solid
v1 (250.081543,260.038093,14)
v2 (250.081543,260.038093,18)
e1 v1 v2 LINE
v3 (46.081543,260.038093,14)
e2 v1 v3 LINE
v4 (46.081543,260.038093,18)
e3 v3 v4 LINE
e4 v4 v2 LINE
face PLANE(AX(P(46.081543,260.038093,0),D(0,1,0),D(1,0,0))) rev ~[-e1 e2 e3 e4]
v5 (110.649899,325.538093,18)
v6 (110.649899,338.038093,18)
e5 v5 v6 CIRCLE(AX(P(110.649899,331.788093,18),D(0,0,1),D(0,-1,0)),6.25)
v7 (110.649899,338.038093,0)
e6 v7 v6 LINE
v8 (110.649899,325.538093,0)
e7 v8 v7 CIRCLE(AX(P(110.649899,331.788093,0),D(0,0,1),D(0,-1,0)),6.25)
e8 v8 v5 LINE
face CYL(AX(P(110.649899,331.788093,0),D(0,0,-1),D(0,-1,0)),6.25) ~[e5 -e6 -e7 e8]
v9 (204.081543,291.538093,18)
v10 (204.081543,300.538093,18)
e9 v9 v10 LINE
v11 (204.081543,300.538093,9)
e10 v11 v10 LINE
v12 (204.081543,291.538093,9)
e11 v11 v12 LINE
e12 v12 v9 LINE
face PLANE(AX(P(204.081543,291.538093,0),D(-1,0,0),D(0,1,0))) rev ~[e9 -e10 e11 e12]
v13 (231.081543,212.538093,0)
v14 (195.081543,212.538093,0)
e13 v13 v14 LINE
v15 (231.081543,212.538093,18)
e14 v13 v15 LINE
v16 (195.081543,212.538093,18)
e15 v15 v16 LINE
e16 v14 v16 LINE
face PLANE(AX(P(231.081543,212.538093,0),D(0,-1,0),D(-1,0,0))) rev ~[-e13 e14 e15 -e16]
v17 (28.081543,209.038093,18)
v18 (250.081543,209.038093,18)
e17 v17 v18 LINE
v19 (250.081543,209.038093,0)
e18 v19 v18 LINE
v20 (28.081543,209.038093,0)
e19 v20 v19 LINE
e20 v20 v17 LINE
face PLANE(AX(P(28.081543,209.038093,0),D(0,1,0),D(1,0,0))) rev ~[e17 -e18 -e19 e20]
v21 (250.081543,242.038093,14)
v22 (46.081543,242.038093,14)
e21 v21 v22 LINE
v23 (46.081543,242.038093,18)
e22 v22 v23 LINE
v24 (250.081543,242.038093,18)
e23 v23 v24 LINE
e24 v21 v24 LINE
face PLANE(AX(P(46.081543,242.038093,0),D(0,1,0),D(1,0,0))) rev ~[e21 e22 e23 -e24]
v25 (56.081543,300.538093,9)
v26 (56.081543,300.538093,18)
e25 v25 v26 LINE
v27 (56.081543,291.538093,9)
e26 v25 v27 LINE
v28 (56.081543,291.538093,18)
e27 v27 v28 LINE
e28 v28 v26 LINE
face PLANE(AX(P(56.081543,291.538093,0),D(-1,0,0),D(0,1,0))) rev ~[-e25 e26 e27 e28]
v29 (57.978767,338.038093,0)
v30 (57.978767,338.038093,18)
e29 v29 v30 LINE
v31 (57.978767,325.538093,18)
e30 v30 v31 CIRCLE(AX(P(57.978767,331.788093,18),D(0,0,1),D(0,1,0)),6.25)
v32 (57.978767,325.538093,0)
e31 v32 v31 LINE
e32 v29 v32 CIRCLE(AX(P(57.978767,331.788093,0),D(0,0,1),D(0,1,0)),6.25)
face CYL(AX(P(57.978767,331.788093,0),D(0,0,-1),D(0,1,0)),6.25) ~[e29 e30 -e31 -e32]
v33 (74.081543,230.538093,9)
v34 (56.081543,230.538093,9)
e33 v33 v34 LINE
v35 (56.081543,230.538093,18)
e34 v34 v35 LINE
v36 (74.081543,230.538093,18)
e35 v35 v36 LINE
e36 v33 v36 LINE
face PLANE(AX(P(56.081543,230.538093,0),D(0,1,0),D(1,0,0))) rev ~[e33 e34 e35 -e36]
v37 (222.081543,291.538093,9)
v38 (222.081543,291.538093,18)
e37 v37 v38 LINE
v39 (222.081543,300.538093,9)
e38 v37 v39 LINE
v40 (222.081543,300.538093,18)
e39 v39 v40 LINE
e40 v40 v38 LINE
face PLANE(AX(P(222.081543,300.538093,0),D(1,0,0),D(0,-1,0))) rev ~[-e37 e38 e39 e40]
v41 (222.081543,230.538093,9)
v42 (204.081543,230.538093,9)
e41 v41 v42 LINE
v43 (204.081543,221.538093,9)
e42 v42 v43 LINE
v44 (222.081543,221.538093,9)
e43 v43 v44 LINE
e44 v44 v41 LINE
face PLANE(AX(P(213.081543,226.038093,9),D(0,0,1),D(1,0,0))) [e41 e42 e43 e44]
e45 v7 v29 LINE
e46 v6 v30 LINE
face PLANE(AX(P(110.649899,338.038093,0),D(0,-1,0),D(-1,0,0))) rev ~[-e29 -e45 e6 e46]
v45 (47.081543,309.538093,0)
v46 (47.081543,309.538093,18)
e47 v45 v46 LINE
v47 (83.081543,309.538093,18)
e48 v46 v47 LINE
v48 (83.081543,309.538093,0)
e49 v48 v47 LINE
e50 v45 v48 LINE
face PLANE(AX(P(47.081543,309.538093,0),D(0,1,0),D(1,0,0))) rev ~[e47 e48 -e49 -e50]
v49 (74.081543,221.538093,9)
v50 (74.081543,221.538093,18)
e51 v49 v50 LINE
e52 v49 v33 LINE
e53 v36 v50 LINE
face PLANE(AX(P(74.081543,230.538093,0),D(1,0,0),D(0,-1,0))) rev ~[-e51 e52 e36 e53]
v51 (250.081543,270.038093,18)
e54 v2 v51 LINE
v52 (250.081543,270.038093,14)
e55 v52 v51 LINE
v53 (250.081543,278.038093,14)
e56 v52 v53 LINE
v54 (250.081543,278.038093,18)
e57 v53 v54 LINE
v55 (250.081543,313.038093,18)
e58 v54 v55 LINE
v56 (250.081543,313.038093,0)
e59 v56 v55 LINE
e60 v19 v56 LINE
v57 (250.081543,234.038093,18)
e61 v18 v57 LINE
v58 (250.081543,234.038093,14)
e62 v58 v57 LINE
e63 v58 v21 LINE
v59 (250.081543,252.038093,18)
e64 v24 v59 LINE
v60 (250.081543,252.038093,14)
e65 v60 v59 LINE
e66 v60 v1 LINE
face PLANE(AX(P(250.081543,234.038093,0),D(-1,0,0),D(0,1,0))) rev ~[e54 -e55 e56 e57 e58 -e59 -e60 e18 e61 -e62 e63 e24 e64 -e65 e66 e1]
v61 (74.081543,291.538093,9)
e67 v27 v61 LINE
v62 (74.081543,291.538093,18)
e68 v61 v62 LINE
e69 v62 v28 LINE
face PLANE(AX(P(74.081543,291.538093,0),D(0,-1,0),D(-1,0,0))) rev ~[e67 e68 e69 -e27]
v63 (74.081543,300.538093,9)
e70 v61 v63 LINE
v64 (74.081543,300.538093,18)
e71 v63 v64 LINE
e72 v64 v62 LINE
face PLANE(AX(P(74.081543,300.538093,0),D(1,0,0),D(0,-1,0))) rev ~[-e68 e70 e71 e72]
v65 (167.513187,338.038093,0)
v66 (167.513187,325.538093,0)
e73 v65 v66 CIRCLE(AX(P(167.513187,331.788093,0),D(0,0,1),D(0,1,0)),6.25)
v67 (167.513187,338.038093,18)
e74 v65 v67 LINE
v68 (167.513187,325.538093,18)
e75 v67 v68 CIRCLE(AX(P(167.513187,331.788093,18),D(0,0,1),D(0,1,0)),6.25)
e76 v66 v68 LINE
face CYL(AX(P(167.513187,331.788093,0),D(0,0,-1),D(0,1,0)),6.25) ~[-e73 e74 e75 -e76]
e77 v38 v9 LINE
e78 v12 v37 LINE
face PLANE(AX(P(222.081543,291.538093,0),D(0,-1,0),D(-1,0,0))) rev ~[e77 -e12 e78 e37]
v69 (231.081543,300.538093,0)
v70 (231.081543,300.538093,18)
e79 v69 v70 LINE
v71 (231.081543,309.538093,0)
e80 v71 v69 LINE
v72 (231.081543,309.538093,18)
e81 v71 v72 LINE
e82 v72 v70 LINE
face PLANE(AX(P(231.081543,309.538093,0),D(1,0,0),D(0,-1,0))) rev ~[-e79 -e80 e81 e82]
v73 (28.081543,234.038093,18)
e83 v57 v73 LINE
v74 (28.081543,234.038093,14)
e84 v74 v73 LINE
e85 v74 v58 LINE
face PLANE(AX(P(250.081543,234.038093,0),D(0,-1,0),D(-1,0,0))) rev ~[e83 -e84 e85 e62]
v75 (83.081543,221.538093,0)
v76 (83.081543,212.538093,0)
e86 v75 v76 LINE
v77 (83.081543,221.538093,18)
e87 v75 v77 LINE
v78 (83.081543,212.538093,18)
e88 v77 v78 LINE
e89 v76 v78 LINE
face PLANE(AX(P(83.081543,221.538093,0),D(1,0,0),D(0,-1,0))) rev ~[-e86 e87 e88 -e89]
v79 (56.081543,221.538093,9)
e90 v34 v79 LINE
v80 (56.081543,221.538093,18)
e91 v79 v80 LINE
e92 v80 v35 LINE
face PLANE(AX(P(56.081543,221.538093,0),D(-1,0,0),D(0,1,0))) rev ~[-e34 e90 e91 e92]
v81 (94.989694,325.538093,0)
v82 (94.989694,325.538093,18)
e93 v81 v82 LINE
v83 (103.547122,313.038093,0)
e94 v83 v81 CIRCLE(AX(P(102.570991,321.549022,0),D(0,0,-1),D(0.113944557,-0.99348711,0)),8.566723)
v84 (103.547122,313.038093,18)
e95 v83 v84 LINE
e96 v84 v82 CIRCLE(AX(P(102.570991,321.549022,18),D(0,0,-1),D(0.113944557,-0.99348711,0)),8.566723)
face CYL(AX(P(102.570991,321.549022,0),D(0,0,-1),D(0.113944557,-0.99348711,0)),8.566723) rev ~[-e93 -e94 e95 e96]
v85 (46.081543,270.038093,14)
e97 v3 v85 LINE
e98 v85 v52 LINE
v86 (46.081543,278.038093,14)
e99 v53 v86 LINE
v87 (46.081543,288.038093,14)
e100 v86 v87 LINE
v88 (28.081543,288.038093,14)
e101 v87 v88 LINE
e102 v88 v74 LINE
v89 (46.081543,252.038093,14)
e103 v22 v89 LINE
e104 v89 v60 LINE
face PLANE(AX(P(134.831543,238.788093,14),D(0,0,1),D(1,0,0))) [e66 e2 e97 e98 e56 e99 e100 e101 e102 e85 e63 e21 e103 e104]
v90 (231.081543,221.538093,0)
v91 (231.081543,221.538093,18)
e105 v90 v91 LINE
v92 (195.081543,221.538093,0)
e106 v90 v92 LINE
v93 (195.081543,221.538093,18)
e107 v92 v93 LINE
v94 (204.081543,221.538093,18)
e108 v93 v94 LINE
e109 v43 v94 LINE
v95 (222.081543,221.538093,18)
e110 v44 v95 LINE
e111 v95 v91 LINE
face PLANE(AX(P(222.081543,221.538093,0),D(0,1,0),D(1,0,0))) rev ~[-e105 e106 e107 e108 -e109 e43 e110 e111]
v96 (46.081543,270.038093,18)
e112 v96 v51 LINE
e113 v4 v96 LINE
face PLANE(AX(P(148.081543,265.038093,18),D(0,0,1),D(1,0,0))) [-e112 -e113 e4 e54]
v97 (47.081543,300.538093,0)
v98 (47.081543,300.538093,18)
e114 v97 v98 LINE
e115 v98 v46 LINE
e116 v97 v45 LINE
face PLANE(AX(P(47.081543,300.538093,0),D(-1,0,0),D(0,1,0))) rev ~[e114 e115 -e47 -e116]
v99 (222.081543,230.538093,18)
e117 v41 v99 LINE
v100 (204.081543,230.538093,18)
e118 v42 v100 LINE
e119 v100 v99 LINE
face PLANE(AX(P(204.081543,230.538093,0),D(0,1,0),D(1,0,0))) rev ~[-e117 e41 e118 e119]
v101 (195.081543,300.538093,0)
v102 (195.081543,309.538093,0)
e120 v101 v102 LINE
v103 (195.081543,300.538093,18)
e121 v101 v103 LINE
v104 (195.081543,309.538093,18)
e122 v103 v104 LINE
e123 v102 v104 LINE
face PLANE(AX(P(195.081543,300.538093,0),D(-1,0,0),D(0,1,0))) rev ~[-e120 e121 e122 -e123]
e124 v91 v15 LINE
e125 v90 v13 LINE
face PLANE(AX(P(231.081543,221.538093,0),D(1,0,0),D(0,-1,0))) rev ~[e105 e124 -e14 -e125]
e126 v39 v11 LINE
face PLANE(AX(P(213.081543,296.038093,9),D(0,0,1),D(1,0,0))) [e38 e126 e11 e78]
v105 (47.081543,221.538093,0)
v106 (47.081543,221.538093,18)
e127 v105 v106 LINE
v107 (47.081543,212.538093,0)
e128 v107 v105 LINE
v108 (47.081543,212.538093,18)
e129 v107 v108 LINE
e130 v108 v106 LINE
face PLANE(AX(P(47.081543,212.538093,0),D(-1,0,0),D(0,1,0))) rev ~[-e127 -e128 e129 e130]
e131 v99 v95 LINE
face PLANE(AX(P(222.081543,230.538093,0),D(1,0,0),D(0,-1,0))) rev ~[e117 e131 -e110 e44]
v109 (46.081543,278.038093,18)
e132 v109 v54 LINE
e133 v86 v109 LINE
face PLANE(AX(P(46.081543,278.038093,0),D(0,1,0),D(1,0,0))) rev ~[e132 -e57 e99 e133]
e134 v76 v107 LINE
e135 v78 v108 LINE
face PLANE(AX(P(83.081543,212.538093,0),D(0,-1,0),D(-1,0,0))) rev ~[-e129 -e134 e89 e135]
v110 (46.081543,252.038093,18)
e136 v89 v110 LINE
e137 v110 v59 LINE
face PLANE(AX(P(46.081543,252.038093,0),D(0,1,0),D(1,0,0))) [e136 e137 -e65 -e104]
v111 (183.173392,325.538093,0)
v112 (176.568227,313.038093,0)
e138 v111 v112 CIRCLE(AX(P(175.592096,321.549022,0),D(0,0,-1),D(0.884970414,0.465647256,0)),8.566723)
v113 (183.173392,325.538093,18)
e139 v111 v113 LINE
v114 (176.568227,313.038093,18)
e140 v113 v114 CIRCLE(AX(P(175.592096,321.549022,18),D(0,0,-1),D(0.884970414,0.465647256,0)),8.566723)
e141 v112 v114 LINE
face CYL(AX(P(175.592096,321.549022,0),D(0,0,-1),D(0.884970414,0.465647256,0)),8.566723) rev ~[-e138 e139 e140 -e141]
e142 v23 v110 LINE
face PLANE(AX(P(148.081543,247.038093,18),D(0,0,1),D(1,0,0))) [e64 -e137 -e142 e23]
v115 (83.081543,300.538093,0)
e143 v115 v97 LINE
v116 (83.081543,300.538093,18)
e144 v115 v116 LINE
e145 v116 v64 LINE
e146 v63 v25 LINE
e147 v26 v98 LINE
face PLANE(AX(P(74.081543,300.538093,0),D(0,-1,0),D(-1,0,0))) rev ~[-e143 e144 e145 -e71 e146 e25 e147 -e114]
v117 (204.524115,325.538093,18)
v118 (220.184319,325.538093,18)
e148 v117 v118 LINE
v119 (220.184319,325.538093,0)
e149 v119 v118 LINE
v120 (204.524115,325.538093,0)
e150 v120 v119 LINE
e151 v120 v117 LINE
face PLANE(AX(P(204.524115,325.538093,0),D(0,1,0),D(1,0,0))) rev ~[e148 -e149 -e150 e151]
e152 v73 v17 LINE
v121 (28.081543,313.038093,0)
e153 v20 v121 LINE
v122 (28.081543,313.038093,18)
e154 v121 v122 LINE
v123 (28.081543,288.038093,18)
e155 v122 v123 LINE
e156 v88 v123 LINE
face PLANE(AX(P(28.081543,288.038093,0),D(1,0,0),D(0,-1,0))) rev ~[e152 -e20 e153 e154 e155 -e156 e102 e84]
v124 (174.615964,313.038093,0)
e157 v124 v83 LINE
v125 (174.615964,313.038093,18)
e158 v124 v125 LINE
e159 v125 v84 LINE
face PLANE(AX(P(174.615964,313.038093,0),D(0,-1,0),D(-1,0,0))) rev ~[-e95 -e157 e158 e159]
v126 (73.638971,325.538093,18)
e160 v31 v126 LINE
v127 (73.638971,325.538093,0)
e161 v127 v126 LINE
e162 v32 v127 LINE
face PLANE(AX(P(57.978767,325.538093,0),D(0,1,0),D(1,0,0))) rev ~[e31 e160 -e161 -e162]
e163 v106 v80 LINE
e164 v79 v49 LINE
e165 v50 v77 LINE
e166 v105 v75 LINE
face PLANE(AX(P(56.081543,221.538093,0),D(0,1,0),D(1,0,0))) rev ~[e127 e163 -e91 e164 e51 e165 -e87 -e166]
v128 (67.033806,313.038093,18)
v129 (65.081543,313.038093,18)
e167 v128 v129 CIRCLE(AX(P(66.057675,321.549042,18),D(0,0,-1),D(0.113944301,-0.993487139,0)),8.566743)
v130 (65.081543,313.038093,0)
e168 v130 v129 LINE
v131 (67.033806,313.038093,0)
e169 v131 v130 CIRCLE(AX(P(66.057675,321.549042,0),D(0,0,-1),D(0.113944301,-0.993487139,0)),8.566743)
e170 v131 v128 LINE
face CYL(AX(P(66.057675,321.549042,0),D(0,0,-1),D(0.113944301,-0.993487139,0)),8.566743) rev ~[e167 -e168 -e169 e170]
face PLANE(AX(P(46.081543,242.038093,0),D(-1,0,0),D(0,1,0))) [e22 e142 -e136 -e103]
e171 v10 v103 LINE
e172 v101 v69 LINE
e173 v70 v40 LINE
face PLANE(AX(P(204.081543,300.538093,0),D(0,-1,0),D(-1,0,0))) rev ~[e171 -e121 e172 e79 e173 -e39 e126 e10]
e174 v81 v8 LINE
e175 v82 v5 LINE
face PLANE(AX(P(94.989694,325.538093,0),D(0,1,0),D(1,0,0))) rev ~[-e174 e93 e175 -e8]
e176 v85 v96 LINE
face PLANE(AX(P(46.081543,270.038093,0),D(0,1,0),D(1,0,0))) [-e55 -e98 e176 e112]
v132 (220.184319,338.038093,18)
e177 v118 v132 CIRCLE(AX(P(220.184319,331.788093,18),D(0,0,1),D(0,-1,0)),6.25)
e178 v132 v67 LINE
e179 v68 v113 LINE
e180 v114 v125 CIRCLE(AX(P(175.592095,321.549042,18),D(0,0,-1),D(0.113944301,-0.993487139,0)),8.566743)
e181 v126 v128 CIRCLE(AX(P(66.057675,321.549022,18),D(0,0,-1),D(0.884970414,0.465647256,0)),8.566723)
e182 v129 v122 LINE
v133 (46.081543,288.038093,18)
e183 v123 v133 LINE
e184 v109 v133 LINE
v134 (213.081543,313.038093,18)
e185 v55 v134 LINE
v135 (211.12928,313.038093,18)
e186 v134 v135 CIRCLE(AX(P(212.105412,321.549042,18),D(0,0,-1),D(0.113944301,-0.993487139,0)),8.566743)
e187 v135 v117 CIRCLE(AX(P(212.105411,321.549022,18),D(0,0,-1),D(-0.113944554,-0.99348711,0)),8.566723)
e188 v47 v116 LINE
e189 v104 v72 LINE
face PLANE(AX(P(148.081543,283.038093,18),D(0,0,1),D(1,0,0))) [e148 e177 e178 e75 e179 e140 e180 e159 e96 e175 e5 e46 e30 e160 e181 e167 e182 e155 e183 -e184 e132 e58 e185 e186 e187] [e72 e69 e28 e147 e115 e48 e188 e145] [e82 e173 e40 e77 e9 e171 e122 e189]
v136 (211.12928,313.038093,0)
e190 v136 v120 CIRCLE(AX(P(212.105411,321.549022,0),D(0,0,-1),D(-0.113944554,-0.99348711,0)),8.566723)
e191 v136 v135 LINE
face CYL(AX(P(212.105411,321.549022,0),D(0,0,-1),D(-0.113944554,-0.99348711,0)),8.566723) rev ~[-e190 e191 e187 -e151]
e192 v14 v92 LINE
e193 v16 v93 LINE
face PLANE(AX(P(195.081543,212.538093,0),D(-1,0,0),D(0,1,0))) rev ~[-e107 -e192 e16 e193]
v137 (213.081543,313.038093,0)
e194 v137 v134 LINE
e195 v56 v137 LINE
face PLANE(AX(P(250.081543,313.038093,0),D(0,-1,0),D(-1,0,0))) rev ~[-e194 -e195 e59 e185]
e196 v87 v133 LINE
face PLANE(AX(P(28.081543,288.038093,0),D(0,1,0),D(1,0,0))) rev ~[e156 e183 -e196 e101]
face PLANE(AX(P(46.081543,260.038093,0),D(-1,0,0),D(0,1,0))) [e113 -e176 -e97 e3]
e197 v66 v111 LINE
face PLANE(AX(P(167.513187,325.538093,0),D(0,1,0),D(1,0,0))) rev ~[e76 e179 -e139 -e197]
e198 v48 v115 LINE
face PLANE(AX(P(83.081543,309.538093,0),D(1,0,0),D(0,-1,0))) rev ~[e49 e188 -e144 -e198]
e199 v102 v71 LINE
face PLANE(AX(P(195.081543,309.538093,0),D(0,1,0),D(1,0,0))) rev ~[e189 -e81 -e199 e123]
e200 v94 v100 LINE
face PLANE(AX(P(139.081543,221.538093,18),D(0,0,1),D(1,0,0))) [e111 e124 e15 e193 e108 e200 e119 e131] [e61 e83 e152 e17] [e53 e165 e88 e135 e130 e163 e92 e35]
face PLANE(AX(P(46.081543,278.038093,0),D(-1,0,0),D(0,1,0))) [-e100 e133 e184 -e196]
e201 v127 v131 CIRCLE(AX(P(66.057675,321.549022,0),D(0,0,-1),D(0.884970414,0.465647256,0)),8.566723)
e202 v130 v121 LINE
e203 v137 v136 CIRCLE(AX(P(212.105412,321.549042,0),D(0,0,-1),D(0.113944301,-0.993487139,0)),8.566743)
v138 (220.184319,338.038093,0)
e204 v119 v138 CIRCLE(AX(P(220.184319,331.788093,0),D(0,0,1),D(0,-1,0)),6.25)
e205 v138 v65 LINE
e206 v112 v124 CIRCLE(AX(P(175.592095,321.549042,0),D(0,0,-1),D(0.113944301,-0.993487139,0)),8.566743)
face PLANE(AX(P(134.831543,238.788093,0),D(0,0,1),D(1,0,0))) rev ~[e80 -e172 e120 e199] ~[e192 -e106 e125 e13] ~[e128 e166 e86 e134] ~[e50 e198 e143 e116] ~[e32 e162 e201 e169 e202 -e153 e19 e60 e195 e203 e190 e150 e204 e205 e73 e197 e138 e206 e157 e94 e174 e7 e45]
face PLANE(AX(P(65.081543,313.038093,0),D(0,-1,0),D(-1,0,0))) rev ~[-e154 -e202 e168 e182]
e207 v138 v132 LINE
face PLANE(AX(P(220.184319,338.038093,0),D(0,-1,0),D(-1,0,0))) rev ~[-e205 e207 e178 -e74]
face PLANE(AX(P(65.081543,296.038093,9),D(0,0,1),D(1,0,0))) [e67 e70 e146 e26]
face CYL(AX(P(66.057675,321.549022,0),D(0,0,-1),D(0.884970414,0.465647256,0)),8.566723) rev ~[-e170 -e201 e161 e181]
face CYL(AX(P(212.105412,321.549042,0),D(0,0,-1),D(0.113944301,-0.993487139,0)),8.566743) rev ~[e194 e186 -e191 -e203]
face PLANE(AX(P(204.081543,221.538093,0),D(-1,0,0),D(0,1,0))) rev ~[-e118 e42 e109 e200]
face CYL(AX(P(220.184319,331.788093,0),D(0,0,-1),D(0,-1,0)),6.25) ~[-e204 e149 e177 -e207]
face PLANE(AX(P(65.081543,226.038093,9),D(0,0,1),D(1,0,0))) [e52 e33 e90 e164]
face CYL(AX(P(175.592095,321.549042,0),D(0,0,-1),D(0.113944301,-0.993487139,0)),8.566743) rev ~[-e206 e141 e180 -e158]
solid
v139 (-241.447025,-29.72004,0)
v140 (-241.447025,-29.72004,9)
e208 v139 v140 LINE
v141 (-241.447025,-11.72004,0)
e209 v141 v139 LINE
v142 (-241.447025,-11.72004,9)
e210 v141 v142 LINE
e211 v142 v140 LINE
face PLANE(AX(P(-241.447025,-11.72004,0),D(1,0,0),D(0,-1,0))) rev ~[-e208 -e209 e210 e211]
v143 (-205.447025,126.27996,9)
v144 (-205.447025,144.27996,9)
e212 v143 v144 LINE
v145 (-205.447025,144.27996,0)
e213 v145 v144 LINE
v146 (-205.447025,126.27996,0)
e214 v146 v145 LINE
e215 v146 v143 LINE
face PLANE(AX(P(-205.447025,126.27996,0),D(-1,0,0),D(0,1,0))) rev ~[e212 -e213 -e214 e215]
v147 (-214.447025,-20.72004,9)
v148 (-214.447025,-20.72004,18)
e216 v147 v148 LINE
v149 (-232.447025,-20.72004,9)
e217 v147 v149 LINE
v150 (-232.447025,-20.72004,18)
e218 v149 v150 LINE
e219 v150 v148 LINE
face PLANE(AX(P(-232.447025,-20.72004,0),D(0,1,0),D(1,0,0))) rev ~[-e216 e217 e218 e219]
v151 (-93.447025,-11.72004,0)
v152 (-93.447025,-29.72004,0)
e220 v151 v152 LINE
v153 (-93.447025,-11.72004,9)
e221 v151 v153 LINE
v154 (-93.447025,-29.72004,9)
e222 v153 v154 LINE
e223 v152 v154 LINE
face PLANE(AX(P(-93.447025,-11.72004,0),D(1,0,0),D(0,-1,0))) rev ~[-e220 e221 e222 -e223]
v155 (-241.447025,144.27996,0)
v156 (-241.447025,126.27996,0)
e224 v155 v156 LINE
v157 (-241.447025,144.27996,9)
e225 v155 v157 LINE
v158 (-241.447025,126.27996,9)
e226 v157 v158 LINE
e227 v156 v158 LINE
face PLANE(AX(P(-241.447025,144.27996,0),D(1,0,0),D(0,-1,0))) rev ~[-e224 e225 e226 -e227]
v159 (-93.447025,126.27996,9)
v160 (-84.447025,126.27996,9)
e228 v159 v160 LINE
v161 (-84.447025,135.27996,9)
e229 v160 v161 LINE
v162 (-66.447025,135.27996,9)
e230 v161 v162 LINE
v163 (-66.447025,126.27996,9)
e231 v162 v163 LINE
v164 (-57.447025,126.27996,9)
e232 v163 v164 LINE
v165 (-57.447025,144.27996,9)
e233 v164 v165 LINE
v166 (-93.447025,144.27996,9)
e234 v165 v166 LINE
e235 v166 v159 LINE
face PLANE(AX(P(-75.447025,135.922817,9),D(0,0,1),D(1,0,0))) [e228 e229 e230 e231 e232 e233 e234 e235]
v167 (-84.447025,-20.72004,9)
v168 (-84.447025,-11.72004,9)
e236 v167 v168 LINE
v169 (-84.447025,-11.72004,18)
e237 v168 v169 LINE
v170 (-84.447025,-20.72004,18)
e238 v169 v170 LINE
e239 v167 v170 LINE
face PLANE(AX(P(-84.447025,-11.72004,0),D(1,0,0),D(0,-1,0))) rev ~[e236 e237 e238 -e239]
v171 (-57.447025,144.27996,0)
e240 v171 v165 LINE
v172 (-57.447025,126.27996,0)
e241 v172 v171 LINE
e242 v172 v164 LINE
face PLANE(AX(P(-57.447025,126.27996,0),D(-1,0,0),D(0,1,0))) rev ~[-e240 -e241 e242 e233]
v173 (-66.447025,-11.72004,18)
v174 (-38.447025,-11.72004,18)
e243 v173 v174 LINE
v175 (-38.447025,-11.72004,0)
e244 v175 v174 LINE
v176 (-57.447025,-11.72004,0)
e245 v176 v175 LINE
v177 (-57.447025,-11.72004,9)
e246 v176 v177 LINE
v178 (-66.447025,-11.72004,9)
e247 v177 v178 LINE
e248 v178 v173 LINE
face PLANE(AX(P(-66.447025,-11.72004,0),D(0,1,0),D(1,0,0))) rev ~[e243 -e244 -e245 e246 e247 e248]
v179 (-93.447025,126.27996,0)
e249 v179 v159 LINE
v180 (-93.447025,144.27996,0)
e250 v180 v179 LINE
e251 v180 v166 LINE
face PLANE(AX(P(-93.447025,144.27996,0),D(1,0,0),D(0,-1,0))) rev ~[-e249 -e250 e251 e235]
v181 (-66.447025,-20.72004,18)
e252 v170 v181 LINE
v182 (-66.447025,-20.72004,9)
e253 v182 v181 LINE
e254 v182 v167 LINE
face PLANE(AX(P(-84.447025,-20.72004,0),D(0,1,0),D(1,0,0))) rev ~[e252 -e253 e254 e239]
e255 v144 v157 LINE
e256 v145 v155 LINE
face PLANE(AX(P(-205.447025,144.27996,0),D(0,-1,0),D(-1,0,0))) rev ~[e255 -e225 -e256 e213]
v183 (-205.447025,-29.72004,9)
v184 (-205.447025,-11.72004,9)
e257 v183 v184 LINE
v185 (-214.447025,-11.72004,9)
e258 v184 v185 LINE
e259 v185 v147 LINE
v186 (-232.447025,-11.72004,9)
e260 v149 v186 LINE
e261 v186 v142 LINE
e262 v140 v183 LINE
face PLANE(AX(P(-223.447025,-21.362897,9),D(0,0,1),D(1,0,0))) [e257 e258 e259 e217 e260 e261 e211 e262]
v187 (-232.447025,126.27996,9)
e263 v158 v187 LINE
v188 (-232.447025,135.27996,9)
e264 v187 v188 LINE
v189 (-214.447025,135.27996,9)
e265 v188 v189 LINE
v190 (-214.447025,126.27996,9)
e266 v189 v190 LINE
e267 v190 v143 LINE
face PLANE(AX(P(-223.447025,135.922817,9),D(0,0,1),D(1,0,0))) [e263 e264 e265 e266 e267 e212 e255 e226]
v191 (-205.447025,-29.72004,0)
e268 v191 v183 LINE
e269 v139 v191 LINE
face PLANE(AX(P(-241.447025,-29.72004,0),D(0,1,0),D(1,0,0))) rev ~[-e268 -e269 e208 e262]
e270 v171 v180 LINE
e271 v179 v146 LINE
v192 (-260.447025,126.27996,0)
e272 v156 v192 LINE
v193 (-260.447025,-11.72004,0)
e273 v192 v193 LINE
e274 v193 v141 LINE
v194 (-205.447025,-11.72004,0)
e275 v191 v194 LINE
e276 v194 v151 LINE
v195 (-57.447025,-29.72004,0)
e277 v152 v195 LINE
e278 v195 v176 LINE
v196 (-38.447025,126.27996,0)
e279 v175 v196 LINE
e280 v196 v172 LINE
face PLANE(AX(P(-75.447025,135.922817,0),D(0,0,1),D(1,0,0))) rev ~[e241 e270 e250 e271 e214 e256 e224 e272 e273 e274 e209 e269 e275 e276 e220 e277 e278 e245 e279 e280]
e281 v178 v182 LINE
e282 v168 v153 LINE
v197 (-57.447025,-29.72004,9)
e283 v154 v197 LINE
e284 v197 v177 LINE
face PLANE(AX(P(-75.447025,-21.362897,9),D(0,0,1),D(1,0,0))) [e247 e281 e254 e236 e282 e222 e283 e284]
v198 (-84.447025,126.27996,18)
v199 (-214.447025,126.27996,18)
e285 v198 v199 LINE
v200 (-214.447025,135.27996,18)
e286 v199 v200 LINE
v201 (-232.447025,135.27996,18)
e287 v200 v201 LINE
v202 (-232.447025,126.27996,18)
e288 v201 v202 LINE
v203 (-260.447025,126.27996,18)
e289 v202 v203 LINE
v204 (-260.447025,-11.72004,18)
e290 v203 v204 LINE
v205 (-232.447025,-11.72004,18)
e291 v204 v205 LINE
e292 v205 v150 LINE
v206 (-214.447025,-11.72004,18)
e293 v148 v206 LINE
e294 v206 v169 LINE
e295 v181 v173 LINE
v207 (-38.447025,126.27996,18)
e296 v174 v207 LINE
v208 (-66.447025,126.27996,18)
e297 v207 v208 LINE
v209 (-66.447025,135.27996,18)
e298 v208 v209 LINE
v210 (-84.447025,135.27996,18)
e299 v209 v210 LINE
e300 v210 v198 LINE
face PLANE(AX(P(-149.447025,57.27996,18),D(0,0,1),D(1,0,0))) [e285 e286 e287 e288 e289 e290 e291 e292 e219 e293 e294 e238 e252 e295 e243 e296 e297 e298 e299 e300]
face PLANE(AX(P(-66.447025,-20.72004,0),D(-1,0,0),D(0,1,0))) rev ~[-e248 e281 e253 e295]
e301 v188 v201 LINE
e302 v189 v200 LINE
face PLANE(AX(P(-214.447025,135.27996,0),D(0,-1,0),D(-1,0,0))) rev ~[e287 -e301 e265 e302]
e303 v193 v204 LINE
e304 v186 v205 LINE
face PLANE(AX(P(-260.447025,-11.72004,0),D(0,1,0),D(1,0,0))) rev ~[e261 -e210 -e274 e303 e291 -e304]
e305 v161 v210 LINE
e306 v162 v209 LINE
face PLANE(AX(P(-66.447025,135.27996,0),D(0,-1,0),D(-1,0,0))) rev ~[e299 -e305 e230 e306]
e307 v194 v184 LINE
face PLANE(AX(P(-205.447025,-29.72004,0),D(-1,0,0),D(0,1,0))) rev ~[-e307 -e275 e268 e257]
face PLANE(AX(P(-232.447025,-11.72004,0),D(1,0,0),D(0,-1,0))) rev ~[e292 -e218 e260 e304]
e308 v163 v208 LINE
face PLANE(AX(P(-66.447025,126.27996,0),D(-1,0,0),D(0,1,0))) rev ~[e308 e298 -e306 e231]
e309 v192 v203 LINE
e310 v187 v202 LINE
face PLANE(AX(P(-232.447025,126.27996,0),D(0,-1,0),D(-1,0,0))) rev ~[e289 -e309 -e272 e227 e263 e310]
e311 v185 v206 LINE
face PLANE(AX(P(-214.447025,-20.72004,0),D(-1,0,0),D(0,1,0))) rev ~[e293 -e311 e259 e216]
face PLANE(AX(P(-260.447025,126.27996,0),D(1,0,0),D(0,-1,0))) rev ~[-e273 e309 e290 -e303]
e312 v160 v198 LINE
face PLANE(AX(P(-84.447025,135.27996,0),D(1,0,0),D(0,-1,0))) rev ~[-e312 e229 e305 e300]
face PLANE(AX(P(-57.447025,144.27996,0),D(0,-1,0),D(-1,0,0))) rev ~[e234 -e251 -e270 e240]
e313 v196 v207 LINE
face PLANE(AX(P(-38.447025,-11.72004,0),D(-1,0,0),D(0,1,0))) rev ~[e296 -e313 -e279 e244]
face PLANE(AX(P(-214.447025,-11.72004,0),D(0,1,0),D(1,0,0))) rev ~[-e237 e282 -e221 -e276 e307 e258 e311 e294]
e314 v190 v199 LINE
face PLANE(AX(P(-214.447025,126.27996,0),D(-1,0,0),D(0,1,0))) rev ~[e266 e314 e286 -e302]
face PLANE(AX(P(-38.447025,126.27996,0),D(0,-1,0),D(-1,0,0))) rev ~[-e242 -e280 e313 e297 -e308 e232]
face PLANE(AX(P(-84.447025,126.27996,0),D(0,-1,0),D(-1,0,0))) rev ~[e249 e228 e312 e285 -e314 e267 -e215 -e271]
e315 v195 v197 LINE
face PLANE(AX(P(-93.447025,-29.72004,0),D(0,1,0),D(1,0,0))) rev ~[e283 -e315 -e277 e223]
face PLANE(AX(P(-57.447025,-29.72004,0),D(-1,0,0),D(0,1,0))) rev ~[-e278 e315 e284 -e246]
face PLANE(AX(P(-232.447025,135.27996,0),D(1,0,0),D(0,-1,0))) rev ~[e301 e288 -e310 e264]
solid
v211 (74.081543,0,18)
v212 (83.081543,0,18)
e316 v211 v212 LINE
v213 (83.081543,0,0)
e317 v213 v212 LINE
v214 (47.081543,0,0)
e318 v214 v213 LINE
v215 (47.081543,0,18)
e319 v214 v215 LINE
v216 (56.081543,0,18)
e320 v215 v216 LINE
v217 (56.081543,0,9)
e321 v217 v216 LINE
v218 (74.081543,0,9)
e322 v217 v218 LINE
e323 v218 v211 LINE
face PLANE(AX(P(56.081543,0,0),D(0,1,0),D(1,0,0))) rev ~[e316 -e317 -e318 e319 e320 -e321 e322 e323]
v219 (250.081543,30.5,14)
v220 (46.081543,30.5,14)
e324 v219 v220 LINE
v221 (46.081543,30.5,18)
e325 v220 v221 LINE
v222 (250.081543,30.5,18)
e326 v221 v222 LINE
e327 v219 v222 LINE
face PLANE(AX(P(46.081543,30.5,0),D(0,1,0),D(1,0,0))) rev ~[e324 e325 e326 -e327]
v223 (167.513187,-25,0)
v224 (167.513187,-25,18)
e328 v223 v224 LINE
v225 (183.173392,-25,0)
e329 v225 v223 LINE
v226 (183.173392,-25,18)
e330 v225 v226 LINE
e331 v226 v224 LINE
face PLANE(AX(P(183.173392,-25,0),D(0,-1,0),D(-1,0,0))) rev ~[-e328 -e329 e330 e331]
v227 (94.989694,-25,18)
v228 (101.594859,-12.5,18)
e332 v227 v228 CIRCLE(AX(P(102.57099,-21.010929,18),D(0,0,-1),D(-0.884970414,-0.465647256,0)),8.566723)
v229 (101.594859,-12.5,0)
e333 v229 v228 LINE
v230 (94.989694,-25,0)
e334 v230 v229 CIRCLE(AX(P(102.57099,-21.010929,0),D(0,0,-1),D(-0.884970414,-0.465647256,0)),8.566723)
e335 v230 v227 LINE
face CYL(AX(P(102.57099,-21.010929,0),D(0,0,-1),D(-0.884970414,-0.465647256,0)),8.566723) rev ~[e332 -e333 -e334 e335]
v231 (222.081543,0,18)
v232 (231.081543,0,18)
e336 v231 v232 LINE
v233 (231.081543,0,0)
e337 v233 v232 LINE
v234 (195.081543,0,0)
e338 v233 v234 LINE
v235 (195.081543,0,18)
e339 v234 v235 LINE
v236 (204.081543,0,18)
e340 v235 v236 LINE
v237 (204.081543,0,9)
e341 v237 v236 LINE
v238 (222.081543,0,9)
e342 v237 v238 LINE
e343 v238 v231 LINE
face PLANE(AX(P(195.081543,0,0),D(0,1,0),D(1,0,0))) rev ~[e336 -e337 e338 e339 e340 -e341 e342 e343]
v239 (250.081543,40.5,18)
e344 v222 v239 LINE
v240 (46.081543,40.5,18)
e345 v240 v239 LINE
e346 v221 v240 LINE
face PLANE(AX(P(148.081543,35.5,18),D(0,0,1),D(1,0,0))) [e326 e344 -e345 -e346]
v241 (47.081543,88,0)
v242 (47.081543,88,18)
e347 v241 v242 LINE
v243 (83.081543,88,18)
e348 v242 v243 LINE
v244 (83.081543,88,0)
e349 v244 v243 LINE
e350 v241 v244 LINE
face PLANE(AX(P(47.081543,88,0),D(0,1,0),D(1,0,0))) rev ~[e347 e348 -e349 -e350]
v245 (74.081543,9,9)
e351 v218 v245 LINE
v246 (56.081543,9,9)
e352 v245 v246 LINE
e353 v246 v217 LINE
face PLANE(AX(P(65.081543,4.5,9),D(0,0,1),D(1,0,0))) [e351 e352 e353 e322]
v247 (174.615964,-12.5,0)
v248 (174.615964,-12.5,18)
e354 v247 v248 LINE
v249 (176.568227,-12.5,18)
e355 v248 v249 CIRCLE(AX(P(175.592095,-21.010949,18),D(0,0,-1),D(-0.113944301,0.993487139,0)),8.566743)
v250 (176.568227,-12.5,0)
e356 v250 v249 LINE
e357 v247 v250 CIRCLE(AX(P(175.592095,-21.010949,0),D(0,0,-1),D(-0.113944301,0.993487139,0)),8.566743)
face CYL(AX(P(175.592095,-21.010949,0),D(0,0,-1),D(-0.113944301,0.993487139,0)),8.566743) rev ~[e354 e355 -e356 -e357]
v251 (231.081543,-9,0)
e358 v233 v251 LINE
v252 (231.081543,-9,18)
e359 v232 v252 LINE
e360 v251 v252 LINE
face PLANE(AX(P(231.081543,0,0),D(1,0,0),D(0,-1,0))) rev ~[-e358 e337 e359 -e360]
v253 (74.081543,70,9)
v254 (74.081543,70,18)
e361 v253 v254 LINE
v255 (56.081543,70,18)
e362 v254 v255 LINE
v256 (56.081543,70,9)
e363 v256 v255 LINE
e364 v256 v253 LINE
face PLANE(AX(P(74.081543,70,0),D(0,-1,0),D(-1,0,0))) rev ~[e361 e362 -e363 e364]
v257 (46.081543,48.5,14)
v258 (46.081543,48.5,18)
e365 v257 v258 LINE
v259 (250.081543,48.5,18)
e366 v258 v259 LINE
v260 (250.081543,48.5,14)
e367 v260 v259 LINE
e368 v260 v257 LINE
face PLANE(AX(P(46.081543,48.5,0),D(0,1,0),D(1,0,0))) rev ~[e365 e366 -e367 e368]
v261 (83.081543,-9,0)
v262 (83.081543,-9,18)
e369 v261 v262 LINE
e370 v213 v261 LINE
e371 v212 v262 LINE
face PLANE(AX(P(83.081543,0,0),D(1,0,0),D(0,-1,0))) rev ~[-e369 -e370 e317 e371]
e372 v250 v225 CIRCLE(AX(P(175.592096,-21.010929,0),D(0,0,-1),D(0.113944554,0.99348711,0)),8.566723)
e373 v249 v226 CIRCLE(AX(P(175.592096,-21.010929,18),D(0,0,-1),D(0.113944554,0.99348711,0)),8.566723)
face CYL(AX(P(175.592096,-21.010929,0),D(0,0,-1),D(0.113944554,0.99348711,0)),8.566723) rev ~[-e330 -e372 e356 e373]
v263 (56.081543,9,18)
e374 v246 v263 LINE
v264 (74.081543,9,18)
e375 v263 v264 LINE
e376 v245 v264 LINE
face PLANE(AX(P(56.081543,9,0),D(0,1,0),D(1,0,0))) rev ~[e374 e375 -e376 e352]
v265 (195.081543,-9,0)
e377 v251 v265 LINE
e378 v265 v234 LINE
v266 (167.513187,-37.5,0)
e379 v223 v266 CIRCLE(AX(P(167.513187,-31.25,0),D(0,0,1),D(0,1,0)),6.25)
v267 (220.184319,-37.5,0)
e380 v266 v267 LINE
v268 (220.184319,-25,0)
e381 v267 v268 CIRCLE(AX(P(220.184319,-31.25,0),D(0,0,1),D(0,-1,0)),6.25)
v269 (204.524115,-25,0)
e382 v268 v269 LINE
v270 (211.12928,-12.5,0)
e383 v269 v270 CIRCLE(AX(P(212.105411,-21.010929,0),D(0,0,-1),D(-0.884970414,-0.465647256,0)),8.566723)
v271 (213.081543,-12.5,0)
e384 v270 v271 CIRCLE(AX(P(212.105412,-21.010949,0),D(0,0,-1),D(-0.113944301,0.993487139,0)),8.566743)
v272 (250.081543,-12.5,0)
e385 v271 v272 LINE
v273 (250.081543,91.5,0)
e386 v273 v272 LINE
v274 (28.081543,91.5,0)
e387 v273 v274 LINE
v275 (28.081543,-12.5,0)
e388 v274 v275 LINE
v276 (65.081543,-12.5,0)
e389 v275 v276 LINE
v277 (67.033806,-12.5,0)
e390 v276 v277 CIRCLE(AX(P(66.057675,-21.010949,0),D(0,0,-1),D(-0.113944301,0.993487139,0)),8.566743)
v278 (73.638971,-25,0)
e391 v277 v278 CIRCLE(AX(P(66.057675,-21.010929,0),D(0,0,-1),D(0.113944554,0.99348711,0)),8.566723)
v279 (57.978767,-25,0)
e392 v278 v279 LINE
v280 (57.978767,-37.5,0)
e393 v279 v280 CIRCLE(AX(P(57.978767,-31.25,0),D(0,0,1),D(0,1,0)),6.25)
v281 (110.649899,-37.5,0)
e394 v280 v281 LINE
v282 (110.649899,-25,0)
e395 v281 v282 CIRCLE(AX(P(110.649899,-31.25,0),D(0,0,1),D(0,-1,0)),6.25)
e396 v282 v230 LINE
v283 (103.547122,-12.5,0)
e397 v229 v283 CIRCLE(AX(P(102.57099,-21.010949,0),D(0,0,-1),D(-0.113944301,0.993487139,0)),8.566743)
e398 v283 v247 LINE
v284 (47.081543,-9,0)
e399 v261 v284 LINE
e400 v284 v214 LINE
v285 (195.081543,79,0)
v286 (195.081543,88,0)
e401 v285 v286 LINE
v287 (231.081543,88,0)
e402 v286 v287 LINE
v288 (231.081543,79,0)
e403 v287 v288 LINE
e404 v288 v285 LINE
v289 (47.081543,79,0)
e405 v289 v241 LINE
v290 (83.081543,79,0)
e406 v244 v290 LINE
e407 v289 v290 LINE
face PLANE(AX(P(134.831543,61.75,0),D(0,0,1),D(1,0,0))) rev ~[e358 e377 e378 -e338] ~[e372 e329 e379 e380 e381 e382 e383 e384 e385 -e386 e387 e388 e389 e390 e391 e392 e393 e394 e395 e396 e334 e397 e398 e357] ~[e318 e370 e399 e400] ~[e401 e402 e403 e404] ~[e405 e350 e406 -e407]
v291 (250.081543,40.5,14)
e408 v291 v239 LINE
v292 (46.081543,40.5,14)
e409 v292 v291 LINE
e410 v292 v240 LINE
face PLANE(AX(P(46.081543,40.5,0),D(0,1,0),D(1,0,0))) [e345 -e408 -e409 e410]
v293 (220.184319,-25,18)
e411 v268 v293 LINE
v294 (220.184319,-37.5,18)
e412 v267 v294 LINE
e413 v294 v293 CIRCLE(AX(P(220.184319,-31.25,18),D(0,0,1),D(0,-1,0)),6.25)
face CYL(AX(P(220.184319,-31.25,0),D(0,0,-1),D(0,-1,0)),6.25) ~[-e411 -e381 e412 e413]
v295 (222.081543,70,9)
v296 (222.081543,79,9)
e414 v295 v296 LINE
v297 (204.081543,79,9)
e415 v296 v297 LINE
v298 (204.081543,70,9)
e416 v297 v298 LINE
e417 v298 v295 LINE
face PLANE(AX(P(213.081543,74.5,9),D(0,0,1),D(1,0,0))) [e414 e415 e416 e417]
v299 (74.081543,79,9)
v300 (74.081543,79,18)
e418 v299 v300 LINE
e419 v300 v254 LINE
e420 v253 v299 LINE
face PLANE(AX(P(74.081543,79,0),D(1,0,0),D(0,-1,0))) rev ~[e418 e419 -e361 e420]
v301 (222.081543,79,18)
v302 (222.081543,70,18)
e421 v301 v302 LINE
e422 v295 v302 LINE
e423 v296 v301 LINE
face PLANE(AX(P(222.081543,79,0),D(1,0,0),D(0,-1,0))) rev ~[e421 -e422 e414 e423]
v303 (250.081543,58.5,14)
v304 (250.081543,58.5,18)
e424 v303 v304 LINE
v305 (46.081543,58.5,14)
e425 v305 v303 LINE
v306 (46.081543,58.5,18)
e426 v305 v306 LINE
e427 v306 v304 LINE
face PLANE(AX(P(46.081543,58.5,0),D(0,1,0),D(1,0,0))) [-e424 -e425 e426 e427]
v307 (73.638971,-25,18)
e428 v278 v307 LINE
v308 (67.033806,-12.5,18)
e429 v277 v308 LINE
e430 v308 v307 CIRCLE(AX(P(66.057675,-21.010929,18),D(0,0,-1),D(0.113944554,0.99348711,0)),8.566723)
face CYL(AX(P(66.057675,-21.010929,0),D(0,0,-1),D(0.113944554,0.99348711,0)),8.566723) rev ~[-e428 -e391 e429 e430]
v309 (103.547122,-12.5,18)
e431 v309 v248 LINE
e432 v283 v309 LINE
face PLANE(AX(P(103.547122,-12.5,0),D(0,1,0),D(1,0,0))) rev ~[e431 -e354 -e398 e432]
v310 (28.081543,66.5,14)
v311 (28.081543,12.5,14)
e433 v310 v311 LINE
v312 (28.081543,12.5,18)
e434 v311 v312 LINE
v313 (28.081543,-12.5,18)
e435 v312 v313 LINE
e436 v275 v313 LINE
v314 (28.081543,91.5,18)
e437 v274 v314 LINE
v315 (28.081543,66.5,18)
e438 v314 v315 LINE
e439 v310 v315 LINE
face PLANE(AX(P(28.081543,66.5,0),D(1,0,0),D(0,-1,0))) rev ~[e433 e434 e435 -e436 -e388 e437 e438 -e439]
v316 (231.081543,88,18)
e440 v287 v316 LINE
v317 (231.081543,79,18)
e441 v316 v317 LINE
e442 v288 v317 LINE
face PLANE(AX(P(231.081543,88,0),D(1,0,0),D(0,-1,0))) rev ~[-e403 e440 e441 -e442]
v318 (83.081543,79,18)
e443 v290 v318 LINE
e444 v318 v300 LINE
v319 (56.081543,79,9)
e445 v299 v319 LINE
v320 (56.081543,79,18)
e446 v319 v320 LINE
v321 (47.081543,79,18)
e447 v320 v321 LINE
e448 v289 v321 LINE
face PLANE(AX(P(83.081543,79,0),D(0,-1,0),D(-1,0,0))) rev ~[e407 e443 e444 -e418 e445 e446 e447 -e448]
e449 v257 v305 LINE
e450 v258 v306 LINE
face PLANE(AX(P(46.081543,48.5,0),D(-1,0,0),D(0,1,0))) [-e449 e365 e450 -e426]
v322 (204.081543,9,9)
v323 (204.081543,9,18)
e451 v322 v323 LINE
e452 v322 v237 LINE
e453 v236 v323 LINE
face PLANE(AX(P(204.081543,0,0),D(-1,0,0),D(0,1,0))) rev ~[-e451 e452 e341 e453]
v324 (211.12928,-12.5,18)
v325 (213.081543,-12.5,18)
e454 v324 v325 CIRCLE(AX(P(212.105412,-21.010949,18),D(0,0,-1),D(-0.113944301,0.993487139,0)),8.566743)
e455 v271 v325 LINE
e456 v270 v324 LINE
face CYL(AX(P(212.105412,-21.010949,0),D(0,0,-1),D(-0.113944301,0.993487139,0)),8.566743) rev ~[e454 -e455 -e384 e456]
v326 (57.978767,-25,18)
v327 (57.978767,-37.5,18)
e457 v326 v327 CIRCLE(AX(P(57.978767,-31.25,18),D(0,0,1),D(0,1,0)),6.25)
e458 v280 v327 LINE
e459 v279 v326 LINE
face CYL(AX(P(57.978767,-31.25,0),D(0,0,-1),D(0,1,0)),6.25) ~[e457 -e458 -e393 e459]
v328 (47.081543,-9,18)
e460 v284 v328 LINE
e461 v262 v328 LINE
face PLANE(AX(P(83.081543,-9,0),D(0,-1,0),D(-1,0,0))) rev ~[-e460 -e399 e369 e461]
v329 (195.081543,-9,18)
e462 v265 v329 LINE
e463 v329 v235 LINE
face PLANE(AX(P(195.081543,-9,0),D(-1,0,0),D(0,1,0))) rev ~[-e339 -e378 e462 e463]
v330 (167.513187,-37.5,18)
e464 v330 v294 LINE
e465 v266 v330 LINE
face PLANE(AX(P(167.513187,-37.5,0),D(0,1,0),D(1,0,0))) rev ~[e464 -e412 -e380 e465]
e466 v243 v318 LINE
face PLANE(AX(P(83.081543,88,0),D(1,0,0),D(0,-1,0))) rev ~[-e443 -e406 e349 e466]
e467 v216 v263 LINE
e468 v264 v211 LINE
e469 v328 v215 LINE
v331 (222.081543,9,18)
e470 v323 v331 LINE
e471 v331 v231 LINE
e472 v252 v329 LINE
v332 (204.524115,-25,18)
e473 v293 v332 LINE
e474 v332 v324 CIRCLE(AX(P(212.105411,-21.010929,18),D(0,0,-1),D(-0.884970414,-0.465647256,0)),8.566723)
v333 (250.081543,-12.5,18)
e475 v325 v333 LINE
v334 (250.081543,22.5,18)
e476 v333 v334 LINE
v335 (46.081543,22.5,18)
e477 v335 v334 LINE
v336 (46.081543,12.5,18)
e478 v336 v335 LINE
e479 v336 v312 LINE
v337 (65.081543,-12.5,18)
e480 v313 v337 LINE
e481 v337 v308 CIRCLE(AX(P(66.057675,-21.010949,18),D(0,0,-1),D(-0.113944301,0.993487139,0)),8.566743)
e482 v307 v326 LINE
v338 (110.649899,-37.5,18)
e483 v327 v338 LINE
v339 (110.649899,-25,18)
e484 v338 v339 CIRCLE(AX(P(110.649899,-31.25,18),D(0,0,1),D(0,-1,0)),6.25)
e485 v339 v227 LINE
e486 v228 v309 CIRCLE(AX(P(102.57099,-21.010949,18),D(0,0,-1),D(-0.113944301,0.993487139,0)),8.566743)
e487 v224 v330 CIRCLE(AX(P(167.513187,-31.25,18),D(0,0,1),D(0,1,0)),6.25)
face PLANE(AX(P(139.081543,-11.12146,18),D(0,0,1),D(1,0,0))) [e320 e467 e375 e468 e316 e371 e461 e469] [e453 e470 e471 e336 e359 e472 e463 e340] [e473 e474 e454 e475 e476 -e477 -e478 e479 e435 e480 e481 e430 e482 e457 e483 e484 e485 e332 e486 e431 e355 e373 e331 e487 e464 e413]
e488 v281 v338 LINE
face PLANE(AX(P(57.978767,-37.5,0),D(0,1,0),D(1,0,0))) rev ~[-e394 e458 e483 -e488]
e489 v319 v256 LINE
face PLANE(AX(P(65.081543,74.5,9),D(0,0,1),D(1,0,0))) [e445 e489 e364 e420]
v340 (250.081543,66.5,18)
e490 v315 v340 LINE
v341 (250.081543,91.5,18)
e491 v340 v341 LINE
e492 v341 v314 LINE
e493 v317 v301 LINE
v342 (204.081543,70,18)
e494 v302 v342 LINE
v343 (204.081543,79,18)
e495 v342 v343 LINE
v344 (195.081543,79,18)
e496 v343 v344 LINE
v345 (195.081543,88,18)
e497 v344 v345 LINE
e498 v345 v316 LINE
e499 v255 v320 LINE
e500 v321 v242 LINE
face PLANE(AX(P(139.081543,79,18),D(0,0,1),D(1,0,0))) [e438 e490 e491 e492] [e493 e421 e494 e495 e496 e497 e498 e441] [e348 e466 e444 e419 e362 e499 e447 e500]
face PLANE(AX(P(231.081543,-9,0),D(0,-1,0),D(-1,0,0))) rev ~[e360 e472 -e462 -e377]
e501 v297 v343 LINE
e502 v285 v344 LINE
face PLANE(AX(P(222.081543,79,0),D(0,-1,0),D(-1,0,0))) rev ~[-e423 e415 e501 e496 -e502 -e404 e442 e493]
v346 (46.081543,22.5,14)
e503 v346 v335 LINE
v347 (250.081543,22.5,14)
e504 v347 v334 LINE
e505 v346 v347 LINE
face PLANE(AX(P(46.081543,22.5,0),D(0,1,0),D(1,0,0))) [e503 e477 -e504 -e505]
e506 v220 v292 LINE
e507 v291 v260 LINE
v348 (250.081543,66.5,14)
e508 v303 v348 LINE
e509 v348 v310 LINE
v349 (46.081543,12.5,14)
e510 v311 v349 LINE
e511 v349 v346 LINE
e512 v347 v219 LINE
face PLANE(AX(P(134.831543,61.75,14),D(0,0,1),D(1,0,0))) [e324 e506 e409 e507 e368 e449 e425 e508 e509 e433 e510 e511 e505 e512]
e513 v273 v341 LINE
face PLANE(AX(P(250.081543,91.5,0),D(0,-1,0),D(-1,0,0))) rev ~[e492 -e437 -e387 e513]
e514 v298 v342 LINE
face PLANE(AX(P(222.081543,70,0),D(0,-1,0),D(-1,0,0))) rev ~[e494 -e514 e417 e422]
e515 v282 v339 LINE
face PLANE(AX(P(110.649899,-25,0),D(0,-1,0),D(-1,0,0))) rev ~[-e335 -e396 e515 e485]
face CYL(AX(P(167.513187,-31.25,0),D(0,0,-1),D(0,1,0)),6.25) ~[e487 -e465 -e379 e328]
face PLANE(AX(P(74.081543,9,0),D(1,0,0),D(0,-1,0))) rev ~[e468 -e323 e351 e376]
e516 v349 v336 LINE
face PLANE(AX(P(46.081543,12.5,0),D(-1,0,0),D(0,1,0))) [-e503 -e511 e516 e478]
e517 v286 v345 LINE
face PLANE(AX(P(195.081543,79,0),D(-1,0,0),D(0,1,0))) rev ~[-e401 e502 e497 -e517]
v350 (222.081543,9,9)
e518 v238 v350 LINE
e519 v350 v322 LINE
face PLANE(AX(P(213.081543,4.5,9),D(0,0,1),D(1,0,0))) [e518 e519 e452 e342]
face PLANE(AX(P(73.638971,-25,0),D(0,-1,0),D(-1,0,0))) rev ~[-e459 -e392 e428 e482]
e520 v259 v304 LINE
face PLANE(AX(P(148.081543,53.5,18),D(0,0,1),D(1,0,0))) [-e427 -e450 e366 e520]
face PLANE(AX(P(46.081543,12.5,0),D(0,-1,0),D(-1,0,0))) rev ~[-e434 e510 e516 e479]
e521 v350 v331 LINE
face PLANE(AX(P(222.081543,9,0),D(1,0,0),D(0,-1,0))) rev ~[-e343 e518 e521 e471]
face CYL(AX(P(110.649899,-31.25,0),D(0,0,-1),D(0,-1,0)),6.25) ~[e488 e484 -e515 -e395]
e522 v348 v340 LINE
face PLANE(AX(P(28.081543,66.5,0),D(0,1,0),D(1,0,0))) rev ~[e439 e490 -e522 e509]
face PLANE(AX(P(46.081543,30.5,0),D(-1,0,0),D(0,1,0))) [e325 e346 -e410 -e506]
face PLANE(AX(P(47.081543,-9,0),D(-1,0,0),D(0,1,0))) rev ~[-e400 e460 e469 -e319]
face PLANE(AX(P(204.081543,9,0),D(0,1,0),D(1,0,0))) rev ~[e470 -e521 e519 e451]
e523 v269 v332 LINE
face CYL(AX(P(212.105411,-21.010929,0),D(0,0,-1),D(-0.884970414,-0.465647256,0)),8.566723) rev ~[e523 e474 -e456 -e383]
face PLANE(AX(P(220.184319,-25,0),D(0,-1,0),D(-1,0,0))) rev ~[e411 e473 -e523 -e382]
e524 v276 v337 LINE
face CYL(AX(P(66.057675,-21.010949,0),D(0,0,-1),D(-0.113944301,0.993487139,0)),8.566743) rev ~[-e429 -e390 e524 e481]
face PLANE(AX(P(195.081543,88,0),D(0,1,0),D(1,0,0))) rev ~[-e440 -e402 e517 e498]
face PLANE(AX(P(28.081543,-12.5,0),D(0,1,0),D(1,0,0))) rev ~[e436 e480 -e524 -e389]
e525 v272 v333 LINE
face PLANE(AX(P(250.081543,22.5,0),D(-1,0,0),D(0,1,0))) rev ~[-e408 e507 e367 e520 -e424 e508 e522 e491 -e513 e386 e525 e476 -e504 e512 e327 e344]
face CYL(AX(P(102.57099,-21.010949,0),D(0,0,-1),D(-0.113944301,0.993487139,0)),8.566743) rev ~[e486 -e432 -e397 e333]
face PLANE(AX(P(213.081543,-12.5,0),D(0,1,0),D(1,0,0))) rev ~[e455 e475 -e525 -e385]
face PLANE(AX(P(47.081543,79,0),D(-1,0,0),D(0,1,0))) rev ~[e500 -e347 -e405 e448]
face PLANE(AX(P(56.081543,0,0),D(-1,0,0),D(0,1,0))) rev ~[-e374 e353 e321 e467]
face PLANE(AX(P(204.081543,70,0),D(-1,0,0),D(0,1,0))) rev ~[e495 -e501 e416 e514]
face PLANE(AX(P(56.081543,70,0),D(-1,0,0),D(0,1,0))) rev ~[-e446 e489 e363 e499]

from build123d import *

# Parameters (mm, degrees)
F0_W     = 204
F0_H     = 10
F2_DEPTH = 18
F3_DEPTH = 9
F4_DEPTH = 14


with BuildPart() as f2:
    # F0 (on Top) + F1 (on Top) → F2 (new body)
    with BuildSketch(Plane.XY):
        with BuildLine():
            Line((46.081543, 12.5), (28.081543, 12.5))
            Line((28.081543, 12.5), (28.081543, -12.5))
            Line((28.081543, -12.5), (65.081543, -12.5))
            ThreePointArc((65.081543, -12.5), (66.057675, -12.444206), (67.033806, -12.5))
            ThreePointArc((67.033806, -12.5), (73.631966, -17.008573), (73.638971, -25))
            Line((73.638971, -25), (57.978767, -25))
            ThreePointArc((57.978767, -25), (51.728767, -31.25), (57.978767, -37.5))
            Line((57.978767, -37.5), (110.649899, -37.5))
            ThreePointArc((110.649899, -37.5), (116.899899, -31.25), (110.649899, -25))
            Line((110.649899, -25), (94.989694, -25))
            ThreePointArc((94.989694, -25), (94.996699, -17.008573), (101.594859, -12.5))
            ThreePointArc((101.594859, -12.5), (102.570991, -12.444206), (103.547122, -12.5))
            Line((103.547122, -12.5), (119.848753, -12.5))
            Line((119.848753, -12.5), (158.314333, -12.5))
            Line((158.314333, -12.5), (174.615964, -12.5))
            ThreePointArc((174.615964, -12.5), (175.592095, -12.444206), (176.568227, -12.5))
            ThreePointArc((176.568227, -12.5), (183.166387, -17.008573), (183.173392, -25))
            Line((183.173392, -25), (167.513187, -25))
            ThreePointArc((167.513187, -25), (161.263187, -31.25), (167.513187, -37.5))
            Line((167.513187, -37.5), (220.184319, -37.5))
            ThreePointArc((220.184319, -37.5), (226.434319, -31.25), (220.184319, -25))
            Line((220.184319, -25), (204.524115, -25))
            ThreePointArc((204.524115, -25), (204.53112, -17.008573), (211.12928, -12.5))
            ThreePointArc((211.12928, -12.5), (212.105411, -12.444206), (213.081543, -12.5))
            Line((213.081543, -12.5), (250.081543, -12.5))
            Line((250.081543, -12.5), (250.081543, 12.5))
            Line((250.081543, 12.5), (46.081543, 12.5))
        make_face()
        Polygon((83.081543, -9), (65.081543, -9), (47.081543, -9), (47.081543, 0), (56.081543, 0), (56.081543, 9), (65.081543, 9), (74.081543, 9), (74.081543, 0), (83.081543, 0), align=None, mode=Mode.SUBTRACT)
        Polygon((231.081543, -9), (213.081543, -9), (195.081543, -9), (195.081543, 0), (204.081543, 0), (204.081543, 9), (213.081543, 9), (222.081543, 9), (222.081543, 0), (231.081543, 0), align=None, mode=Mode.SUBTRACT)
        Polygon((176.081543, 91.5), (102.081543, 91.5), (28.081543, 91.5), (28.081543, 66.5), (250.081543, 66.5), (250.081543, 91.5), align=None)
        Polygon((47.081543, 88), (65.081543, 88), (83.081543, 88), (83.081543, 79), (74.081543, 79), (74.081543, 70), (65.081543, 70), (56.081543, 70), (56.081543, 79), (47.081543, 79), align=None, mode=Mode.SUBTRACT)
        Polygon((195.081543, 88), (213.081543, 88), (231.081543, 88), (231.081543, 79), (222.081543, 79), (222.081543, 70), (213.081543, 70), (204.081543, 70), (204.081543, 79), (195.081543, 79), align=None, mode=Mode.SUBTRACT)
        with Locations((148.081543, 53.5)):
            Rectangle(F0_W, F0_H)
        with Locations((148.081543, 35.5)):
            Rectangle(F0_W, F0_H)
        with Locations((148.081543, 17.5)):
            Rectangle(F0_W, F0_H)
        Polygon((250.081543, 234.038093), (28.081543, 234.038093), (28.081543, 209.038093), (102.081543, 209.038093), (176.081543, 209.038093), (250.081543, 209.038093), align=None)
        Polygon((83.081543, 221.538093), (83.081543, 212.538093), (65.081543, 212.538093), (47.081543, 212.538093), (47.081543, 221.538093), (56.081543, 221.538093), (56.081543, 230.538093), (65.081543, 230.538093), (74.081543, 230.538093), (74.081543, 221.538093), align=None, mode=Mode.SUBTRACT)
        Polygon((222.081543, 221.538093), (231.081543, 221.538093), (231.081543, 212.538093), (213.081543, 212.538093), (195.081543, 212.538093), (195.081543, 221.538093), (204.081543, 221.538093), (204.081543, 230.538093), (213.081543, 230.538093), (222.081543, 230.538093), align=None, mode=Mode.SUBTRACT)
        with Locations((148.081543, 247.038093)):
            Rectangle(F0_W, F0_H)
        with Locations((148.081543, 265.038093)):
            Rectangle(F0_W, F0_H)
        with Locations((148.081543, 283.038093)):
            Rectangle(F0_W, F0_H)
        with BuildLine():
            ThreePointArc((183.173392, 325.538093), (183.166387, 317.546666), (176.568227, 313.038093))
            ThreePointArc((176.568227, 313.038093), (175.592095, 312.982299), (174.615964, 313.038093))
            Line((174.615964, 313.038093), (158.314333, 313.038093))
            Line((158.314333, 313.038093), (119.848753, 313.038093))
            Line((119.848753, 313.038093), (103.547122, 313.038093))
            ThreePointArc((103.547122, 313.038093), (95.502076, 316.709684), (94.989694, 325.538093))
            Line((94.989694, 325.538093), (110.649899, 325.538093))
            ThreePointArc((110.649899, 325.538093), (116.899899, 331.788093), (110.649899, 338.038093))
            Line((110.649899, 338.038093), (57.978767, 338.038093))
            ThreePointArc((57.978767, 338.038093), (51.728767, 331.788093), (57.978767, 325.538093))
            Line((57.978767, 325.538093), (73.638971, 325.538093))
            ThreePointArc((73.638971, 325.538093), (73.631966, 317.546666), (67.033806, 313.038093))
            ThreePointArc((67.033806, 313.038093), (66.057675, 312.982299), (65.081543, 313.038093))
            Line((65.081543, 313.038093), (28.081543, 313.038093))
            Line((28.081543, 313.038093), (28.081543, 288.038093))
            Line((28.081543, 288.038093), (46.081543, 288.038093))
            Line((46.081543, 288.038093), (250.081543, 288.038093))
            Line((250.081543, 288.038093), (250.081543, 313.038093))
            Line((250.081543, 313.038093), (213.081543, 313.038093))
            ThreePointArc((213.081543, 313.038093), (212.105411, 312.982299), (211.12928, 313.038093))
            ThreePointArc((211.12928, 313.038093), (204.53112, 317.546666), (204.524115, 325.538093))
            Line((204.524115, 325.538093), (220.184319, 325.538093))
            ThreePointArc((220.184319, 325.538093), (226.434319, 331.788093), (220.184319, 338.038093))
            Line((220.184319, 338.038093), (167.513187, 338.038093))
            ThreePointArc((167.513187, 338.038093), (161.263187, 331.788093), (167.513187, 325.538093))
            Line((167.513187, 325.538093), (183.173392, 325.538093))
        make_face()
        Polygon((74.081543, 291.538093), (65.081543, 291.538093), (56.081543, 291.538093), (56.081543, 300.538093), (47.081543, 300.538093), (47.081543, 309.538093), (65.081543, 309.538093), (83.081543, 309.538093), (83.081543, 300.538093), (74.081543, 300.538093), align=None, mode=Mode.SUBTRACT)
        Polygon((222.081543, 291.538093), (213.081543, 291.538093), (204.081543, 291.538093), (204.081543, 300.538093), (195.081543, 300.538093), (195.081543, 309.538093), (213.081543, 309.538093), (231.081543, 309.538093), (231.081543, 300.538093), (222.081543, 300.538093), align=None, mode=Mode.SUBTRACT)
    with BuildSketch(Plane.XY):
        Polygon((-241.447025, 126.27996), (-260.447025, 126.27996), (-260.447025, -11.72004), (-241.447025, -11.72004), (-232.447025, -11.72004), (-214.447025, -11.72004), (-205.447025, -11.72004), (-93.447025, -11.72004), (-84.447025, -11.72004), (-66.447025, -11.72004), (-57.447025, -11.72004), (-38.447025, -11.72004), (-38.447025, 126.27996), (-57.447025, 126.27996), (-66.447025, 126.27996), (-75.447025, 126.27996), (-84.447025, 126.27996), (-93.447025, 126.27996), (-112.447025, 126.27996), (-186.447025, 126.27996), (-205.447025, 126.27996), (-214.447025, 126.27996), (-232.447025, 126.27996), align=None)
        Polygon((-84.447025, 135.27996), (-84.447025, 126.27996), (-75.447025, 126.27996), (-66.447025, 126.27996), (-66.447025, 135.27996), (-75.447025, 135.27996), align=None)
        Polygon((-66.447025, -11.72004), (-84.447025, -11.72004), (-84.447025, -20.72004), (-75.447025, -20.72004), (-66.447025, -20.72004), align=None)
        Polygon((-214.447025, -11.72004), (-232.447025, -11.72004), (-232.447025, -20.72004), (-223.447025, -20.72004), (-214.447025, -20.72004), align=None)
        Polygon((-232.447025, 135.27996), (-232.447025, 126.27996), (-214.447025, 126.27996), (-214.447025, 135.27996), (-223.447025, 135.27996), align=None)
    extrude(amount=F2_DEPTH)

    # F0 (on Top) + F1 (on Top) → F3 (join)
    with BuildSketch(Plane.XY):
        Polygon((56.081543, 291.538093), (65.081543, 291.538093), (74.081543, 291.538093), (74.081543, 300.538093), (56.081543, 300.538093), align=None)
        Polygon((56.081543, 221.538093), (74.081543, 221.538093), (74.081543, 230.538093), (65.081543, 230.538093), (56.081543, 230.538093), align=None)
        Polygon((204.081543, 221.538093), (222.081543, 221.538093), (222.081543, 230.538093), (213.081543, 230.538093), (204.081543, 230.538093), align=None)
        Polygon((204.081543, 291.538093), (213.081543, 291.538093), (222.081543, 291.538093), (222.081543, 300.538093), (204.081543, 300.538093), align=None)
        Polygon((222.081543, 79), (204.081543, 79), (204.081543, 70), (213.081543, 70), (222.081543, 70), align=None)
        Polygon((74.081543, 70), (74.081543, 79), (56.081543, 79), (56.081543, 70), (65.081543, 70), align=None)
        Polygon((56.081543, 9), (56.081543, 0), (74.081543, 0), (74.081543, 9), (65.081543, 9), align=None)
        Polygon((204.081543, 0), (222.081543, 0), (222.081543, 9), (213.081543, 9), (204.081543, 9), align=None)
    with BuildSketch(Plane.XY):
        Polygon((-93.447025, 144.27996), (-93.447025, 126.27996), (-84.447025, 126.27996), (-84.447025, 135.27996), (-75.447025, 135.27996), (-66.447025, 135.27996), (-66.447025, 126.27996), (-57.447025, 126.27996), (-57.447025, 144.27996), (-75.447025, 144.27996), align=None)
        Polygon((-241.447025, 144.27996), (-241.447025, 126.27996), (-232.447025, 126.27996), (-232.447025, 135.27996), (-223.447025, 135.27996), (-214.447025, 135.27996), (-214.447025, 126.27996), (-205.447025, 126.27996), (-205.447025, 144.27996), (-223.447025, 144.27996), align=None)
        Polygon((-232.447025, -11.72004), (-241.447025, -11.72004), (-241.447025, -29.72004), (-223.447025, -29.72004), (-205.447025, -29.72004), (-205.447025, -11.72004), (-214.447025, -11.72004), (-214.447025, -20.72004), (-223.447025, -20.72004), (-232.447025, -20.72004), align=None)
        Polygon((-84.447025, -11.72004), (-93.447025, -11.72004), (-93.447025, -29.72004), (-75.447025, -29.72004), (-57.447025, -29.72004), (-57.447025, -11.72004), (-66.447025, -11.72004), (-66.447025, -20.72004), (-75.447025, -20.72004), (-84.447025, -20.72004), align=None)
    extrude(amount=F3_DEPTH)

    # F0 (on Top) → F4 (join)
    with BuildSketch(Plane.XY):
        Polygon((46.081543, 252.038093), (28.081543, 252.038093), (28.081543, 234.038093), (250.081543, 234.038093), (250.081543, 242.038093), (46.081543, 242.038093), align=None)
        Polygon((250.081543, 252.038093), (250.081543, 260.038093), (46.081543, 260.038093), (46.081543, 270.038093), (28.081543, 270.038093), (28.081543, 252.038093), (46.081543, 252.038093), align=None)
        Polygon((250.081543, 270.038093), (250.081543, 278.038093), (46.081543, 278.038093), (46.081543, 288.038093), (28.081543, 288.038093), (28.081543, 270.038093), (46.081543, 270.038093), align=None)
        Polygon((250.081543, 66.5), (28.081543, 66.5), (28.081543, 48.5), (46.081543, 48.5), (46.081543, 58.5), (250.081543, 58.5), align=None)
        Polygon((46.081543, 48.5), (28.081543, 48.5), (28.081543, 30.5), (46.081543, 30.5), (46.081543, 40.5), (250.081543, 40.5), (250.081543, 48.5), align=None)
        Polygon((46.081543, 30.5), (28.081543, 30.5), (28.081543, 12.5), (46.081543, 12.5), (46.081543, 22.5), (250.081543, 22.5), (250.081543, 30.5), align=None)
    extrude(amount=F4_DEPTH)


solid = f2.part
